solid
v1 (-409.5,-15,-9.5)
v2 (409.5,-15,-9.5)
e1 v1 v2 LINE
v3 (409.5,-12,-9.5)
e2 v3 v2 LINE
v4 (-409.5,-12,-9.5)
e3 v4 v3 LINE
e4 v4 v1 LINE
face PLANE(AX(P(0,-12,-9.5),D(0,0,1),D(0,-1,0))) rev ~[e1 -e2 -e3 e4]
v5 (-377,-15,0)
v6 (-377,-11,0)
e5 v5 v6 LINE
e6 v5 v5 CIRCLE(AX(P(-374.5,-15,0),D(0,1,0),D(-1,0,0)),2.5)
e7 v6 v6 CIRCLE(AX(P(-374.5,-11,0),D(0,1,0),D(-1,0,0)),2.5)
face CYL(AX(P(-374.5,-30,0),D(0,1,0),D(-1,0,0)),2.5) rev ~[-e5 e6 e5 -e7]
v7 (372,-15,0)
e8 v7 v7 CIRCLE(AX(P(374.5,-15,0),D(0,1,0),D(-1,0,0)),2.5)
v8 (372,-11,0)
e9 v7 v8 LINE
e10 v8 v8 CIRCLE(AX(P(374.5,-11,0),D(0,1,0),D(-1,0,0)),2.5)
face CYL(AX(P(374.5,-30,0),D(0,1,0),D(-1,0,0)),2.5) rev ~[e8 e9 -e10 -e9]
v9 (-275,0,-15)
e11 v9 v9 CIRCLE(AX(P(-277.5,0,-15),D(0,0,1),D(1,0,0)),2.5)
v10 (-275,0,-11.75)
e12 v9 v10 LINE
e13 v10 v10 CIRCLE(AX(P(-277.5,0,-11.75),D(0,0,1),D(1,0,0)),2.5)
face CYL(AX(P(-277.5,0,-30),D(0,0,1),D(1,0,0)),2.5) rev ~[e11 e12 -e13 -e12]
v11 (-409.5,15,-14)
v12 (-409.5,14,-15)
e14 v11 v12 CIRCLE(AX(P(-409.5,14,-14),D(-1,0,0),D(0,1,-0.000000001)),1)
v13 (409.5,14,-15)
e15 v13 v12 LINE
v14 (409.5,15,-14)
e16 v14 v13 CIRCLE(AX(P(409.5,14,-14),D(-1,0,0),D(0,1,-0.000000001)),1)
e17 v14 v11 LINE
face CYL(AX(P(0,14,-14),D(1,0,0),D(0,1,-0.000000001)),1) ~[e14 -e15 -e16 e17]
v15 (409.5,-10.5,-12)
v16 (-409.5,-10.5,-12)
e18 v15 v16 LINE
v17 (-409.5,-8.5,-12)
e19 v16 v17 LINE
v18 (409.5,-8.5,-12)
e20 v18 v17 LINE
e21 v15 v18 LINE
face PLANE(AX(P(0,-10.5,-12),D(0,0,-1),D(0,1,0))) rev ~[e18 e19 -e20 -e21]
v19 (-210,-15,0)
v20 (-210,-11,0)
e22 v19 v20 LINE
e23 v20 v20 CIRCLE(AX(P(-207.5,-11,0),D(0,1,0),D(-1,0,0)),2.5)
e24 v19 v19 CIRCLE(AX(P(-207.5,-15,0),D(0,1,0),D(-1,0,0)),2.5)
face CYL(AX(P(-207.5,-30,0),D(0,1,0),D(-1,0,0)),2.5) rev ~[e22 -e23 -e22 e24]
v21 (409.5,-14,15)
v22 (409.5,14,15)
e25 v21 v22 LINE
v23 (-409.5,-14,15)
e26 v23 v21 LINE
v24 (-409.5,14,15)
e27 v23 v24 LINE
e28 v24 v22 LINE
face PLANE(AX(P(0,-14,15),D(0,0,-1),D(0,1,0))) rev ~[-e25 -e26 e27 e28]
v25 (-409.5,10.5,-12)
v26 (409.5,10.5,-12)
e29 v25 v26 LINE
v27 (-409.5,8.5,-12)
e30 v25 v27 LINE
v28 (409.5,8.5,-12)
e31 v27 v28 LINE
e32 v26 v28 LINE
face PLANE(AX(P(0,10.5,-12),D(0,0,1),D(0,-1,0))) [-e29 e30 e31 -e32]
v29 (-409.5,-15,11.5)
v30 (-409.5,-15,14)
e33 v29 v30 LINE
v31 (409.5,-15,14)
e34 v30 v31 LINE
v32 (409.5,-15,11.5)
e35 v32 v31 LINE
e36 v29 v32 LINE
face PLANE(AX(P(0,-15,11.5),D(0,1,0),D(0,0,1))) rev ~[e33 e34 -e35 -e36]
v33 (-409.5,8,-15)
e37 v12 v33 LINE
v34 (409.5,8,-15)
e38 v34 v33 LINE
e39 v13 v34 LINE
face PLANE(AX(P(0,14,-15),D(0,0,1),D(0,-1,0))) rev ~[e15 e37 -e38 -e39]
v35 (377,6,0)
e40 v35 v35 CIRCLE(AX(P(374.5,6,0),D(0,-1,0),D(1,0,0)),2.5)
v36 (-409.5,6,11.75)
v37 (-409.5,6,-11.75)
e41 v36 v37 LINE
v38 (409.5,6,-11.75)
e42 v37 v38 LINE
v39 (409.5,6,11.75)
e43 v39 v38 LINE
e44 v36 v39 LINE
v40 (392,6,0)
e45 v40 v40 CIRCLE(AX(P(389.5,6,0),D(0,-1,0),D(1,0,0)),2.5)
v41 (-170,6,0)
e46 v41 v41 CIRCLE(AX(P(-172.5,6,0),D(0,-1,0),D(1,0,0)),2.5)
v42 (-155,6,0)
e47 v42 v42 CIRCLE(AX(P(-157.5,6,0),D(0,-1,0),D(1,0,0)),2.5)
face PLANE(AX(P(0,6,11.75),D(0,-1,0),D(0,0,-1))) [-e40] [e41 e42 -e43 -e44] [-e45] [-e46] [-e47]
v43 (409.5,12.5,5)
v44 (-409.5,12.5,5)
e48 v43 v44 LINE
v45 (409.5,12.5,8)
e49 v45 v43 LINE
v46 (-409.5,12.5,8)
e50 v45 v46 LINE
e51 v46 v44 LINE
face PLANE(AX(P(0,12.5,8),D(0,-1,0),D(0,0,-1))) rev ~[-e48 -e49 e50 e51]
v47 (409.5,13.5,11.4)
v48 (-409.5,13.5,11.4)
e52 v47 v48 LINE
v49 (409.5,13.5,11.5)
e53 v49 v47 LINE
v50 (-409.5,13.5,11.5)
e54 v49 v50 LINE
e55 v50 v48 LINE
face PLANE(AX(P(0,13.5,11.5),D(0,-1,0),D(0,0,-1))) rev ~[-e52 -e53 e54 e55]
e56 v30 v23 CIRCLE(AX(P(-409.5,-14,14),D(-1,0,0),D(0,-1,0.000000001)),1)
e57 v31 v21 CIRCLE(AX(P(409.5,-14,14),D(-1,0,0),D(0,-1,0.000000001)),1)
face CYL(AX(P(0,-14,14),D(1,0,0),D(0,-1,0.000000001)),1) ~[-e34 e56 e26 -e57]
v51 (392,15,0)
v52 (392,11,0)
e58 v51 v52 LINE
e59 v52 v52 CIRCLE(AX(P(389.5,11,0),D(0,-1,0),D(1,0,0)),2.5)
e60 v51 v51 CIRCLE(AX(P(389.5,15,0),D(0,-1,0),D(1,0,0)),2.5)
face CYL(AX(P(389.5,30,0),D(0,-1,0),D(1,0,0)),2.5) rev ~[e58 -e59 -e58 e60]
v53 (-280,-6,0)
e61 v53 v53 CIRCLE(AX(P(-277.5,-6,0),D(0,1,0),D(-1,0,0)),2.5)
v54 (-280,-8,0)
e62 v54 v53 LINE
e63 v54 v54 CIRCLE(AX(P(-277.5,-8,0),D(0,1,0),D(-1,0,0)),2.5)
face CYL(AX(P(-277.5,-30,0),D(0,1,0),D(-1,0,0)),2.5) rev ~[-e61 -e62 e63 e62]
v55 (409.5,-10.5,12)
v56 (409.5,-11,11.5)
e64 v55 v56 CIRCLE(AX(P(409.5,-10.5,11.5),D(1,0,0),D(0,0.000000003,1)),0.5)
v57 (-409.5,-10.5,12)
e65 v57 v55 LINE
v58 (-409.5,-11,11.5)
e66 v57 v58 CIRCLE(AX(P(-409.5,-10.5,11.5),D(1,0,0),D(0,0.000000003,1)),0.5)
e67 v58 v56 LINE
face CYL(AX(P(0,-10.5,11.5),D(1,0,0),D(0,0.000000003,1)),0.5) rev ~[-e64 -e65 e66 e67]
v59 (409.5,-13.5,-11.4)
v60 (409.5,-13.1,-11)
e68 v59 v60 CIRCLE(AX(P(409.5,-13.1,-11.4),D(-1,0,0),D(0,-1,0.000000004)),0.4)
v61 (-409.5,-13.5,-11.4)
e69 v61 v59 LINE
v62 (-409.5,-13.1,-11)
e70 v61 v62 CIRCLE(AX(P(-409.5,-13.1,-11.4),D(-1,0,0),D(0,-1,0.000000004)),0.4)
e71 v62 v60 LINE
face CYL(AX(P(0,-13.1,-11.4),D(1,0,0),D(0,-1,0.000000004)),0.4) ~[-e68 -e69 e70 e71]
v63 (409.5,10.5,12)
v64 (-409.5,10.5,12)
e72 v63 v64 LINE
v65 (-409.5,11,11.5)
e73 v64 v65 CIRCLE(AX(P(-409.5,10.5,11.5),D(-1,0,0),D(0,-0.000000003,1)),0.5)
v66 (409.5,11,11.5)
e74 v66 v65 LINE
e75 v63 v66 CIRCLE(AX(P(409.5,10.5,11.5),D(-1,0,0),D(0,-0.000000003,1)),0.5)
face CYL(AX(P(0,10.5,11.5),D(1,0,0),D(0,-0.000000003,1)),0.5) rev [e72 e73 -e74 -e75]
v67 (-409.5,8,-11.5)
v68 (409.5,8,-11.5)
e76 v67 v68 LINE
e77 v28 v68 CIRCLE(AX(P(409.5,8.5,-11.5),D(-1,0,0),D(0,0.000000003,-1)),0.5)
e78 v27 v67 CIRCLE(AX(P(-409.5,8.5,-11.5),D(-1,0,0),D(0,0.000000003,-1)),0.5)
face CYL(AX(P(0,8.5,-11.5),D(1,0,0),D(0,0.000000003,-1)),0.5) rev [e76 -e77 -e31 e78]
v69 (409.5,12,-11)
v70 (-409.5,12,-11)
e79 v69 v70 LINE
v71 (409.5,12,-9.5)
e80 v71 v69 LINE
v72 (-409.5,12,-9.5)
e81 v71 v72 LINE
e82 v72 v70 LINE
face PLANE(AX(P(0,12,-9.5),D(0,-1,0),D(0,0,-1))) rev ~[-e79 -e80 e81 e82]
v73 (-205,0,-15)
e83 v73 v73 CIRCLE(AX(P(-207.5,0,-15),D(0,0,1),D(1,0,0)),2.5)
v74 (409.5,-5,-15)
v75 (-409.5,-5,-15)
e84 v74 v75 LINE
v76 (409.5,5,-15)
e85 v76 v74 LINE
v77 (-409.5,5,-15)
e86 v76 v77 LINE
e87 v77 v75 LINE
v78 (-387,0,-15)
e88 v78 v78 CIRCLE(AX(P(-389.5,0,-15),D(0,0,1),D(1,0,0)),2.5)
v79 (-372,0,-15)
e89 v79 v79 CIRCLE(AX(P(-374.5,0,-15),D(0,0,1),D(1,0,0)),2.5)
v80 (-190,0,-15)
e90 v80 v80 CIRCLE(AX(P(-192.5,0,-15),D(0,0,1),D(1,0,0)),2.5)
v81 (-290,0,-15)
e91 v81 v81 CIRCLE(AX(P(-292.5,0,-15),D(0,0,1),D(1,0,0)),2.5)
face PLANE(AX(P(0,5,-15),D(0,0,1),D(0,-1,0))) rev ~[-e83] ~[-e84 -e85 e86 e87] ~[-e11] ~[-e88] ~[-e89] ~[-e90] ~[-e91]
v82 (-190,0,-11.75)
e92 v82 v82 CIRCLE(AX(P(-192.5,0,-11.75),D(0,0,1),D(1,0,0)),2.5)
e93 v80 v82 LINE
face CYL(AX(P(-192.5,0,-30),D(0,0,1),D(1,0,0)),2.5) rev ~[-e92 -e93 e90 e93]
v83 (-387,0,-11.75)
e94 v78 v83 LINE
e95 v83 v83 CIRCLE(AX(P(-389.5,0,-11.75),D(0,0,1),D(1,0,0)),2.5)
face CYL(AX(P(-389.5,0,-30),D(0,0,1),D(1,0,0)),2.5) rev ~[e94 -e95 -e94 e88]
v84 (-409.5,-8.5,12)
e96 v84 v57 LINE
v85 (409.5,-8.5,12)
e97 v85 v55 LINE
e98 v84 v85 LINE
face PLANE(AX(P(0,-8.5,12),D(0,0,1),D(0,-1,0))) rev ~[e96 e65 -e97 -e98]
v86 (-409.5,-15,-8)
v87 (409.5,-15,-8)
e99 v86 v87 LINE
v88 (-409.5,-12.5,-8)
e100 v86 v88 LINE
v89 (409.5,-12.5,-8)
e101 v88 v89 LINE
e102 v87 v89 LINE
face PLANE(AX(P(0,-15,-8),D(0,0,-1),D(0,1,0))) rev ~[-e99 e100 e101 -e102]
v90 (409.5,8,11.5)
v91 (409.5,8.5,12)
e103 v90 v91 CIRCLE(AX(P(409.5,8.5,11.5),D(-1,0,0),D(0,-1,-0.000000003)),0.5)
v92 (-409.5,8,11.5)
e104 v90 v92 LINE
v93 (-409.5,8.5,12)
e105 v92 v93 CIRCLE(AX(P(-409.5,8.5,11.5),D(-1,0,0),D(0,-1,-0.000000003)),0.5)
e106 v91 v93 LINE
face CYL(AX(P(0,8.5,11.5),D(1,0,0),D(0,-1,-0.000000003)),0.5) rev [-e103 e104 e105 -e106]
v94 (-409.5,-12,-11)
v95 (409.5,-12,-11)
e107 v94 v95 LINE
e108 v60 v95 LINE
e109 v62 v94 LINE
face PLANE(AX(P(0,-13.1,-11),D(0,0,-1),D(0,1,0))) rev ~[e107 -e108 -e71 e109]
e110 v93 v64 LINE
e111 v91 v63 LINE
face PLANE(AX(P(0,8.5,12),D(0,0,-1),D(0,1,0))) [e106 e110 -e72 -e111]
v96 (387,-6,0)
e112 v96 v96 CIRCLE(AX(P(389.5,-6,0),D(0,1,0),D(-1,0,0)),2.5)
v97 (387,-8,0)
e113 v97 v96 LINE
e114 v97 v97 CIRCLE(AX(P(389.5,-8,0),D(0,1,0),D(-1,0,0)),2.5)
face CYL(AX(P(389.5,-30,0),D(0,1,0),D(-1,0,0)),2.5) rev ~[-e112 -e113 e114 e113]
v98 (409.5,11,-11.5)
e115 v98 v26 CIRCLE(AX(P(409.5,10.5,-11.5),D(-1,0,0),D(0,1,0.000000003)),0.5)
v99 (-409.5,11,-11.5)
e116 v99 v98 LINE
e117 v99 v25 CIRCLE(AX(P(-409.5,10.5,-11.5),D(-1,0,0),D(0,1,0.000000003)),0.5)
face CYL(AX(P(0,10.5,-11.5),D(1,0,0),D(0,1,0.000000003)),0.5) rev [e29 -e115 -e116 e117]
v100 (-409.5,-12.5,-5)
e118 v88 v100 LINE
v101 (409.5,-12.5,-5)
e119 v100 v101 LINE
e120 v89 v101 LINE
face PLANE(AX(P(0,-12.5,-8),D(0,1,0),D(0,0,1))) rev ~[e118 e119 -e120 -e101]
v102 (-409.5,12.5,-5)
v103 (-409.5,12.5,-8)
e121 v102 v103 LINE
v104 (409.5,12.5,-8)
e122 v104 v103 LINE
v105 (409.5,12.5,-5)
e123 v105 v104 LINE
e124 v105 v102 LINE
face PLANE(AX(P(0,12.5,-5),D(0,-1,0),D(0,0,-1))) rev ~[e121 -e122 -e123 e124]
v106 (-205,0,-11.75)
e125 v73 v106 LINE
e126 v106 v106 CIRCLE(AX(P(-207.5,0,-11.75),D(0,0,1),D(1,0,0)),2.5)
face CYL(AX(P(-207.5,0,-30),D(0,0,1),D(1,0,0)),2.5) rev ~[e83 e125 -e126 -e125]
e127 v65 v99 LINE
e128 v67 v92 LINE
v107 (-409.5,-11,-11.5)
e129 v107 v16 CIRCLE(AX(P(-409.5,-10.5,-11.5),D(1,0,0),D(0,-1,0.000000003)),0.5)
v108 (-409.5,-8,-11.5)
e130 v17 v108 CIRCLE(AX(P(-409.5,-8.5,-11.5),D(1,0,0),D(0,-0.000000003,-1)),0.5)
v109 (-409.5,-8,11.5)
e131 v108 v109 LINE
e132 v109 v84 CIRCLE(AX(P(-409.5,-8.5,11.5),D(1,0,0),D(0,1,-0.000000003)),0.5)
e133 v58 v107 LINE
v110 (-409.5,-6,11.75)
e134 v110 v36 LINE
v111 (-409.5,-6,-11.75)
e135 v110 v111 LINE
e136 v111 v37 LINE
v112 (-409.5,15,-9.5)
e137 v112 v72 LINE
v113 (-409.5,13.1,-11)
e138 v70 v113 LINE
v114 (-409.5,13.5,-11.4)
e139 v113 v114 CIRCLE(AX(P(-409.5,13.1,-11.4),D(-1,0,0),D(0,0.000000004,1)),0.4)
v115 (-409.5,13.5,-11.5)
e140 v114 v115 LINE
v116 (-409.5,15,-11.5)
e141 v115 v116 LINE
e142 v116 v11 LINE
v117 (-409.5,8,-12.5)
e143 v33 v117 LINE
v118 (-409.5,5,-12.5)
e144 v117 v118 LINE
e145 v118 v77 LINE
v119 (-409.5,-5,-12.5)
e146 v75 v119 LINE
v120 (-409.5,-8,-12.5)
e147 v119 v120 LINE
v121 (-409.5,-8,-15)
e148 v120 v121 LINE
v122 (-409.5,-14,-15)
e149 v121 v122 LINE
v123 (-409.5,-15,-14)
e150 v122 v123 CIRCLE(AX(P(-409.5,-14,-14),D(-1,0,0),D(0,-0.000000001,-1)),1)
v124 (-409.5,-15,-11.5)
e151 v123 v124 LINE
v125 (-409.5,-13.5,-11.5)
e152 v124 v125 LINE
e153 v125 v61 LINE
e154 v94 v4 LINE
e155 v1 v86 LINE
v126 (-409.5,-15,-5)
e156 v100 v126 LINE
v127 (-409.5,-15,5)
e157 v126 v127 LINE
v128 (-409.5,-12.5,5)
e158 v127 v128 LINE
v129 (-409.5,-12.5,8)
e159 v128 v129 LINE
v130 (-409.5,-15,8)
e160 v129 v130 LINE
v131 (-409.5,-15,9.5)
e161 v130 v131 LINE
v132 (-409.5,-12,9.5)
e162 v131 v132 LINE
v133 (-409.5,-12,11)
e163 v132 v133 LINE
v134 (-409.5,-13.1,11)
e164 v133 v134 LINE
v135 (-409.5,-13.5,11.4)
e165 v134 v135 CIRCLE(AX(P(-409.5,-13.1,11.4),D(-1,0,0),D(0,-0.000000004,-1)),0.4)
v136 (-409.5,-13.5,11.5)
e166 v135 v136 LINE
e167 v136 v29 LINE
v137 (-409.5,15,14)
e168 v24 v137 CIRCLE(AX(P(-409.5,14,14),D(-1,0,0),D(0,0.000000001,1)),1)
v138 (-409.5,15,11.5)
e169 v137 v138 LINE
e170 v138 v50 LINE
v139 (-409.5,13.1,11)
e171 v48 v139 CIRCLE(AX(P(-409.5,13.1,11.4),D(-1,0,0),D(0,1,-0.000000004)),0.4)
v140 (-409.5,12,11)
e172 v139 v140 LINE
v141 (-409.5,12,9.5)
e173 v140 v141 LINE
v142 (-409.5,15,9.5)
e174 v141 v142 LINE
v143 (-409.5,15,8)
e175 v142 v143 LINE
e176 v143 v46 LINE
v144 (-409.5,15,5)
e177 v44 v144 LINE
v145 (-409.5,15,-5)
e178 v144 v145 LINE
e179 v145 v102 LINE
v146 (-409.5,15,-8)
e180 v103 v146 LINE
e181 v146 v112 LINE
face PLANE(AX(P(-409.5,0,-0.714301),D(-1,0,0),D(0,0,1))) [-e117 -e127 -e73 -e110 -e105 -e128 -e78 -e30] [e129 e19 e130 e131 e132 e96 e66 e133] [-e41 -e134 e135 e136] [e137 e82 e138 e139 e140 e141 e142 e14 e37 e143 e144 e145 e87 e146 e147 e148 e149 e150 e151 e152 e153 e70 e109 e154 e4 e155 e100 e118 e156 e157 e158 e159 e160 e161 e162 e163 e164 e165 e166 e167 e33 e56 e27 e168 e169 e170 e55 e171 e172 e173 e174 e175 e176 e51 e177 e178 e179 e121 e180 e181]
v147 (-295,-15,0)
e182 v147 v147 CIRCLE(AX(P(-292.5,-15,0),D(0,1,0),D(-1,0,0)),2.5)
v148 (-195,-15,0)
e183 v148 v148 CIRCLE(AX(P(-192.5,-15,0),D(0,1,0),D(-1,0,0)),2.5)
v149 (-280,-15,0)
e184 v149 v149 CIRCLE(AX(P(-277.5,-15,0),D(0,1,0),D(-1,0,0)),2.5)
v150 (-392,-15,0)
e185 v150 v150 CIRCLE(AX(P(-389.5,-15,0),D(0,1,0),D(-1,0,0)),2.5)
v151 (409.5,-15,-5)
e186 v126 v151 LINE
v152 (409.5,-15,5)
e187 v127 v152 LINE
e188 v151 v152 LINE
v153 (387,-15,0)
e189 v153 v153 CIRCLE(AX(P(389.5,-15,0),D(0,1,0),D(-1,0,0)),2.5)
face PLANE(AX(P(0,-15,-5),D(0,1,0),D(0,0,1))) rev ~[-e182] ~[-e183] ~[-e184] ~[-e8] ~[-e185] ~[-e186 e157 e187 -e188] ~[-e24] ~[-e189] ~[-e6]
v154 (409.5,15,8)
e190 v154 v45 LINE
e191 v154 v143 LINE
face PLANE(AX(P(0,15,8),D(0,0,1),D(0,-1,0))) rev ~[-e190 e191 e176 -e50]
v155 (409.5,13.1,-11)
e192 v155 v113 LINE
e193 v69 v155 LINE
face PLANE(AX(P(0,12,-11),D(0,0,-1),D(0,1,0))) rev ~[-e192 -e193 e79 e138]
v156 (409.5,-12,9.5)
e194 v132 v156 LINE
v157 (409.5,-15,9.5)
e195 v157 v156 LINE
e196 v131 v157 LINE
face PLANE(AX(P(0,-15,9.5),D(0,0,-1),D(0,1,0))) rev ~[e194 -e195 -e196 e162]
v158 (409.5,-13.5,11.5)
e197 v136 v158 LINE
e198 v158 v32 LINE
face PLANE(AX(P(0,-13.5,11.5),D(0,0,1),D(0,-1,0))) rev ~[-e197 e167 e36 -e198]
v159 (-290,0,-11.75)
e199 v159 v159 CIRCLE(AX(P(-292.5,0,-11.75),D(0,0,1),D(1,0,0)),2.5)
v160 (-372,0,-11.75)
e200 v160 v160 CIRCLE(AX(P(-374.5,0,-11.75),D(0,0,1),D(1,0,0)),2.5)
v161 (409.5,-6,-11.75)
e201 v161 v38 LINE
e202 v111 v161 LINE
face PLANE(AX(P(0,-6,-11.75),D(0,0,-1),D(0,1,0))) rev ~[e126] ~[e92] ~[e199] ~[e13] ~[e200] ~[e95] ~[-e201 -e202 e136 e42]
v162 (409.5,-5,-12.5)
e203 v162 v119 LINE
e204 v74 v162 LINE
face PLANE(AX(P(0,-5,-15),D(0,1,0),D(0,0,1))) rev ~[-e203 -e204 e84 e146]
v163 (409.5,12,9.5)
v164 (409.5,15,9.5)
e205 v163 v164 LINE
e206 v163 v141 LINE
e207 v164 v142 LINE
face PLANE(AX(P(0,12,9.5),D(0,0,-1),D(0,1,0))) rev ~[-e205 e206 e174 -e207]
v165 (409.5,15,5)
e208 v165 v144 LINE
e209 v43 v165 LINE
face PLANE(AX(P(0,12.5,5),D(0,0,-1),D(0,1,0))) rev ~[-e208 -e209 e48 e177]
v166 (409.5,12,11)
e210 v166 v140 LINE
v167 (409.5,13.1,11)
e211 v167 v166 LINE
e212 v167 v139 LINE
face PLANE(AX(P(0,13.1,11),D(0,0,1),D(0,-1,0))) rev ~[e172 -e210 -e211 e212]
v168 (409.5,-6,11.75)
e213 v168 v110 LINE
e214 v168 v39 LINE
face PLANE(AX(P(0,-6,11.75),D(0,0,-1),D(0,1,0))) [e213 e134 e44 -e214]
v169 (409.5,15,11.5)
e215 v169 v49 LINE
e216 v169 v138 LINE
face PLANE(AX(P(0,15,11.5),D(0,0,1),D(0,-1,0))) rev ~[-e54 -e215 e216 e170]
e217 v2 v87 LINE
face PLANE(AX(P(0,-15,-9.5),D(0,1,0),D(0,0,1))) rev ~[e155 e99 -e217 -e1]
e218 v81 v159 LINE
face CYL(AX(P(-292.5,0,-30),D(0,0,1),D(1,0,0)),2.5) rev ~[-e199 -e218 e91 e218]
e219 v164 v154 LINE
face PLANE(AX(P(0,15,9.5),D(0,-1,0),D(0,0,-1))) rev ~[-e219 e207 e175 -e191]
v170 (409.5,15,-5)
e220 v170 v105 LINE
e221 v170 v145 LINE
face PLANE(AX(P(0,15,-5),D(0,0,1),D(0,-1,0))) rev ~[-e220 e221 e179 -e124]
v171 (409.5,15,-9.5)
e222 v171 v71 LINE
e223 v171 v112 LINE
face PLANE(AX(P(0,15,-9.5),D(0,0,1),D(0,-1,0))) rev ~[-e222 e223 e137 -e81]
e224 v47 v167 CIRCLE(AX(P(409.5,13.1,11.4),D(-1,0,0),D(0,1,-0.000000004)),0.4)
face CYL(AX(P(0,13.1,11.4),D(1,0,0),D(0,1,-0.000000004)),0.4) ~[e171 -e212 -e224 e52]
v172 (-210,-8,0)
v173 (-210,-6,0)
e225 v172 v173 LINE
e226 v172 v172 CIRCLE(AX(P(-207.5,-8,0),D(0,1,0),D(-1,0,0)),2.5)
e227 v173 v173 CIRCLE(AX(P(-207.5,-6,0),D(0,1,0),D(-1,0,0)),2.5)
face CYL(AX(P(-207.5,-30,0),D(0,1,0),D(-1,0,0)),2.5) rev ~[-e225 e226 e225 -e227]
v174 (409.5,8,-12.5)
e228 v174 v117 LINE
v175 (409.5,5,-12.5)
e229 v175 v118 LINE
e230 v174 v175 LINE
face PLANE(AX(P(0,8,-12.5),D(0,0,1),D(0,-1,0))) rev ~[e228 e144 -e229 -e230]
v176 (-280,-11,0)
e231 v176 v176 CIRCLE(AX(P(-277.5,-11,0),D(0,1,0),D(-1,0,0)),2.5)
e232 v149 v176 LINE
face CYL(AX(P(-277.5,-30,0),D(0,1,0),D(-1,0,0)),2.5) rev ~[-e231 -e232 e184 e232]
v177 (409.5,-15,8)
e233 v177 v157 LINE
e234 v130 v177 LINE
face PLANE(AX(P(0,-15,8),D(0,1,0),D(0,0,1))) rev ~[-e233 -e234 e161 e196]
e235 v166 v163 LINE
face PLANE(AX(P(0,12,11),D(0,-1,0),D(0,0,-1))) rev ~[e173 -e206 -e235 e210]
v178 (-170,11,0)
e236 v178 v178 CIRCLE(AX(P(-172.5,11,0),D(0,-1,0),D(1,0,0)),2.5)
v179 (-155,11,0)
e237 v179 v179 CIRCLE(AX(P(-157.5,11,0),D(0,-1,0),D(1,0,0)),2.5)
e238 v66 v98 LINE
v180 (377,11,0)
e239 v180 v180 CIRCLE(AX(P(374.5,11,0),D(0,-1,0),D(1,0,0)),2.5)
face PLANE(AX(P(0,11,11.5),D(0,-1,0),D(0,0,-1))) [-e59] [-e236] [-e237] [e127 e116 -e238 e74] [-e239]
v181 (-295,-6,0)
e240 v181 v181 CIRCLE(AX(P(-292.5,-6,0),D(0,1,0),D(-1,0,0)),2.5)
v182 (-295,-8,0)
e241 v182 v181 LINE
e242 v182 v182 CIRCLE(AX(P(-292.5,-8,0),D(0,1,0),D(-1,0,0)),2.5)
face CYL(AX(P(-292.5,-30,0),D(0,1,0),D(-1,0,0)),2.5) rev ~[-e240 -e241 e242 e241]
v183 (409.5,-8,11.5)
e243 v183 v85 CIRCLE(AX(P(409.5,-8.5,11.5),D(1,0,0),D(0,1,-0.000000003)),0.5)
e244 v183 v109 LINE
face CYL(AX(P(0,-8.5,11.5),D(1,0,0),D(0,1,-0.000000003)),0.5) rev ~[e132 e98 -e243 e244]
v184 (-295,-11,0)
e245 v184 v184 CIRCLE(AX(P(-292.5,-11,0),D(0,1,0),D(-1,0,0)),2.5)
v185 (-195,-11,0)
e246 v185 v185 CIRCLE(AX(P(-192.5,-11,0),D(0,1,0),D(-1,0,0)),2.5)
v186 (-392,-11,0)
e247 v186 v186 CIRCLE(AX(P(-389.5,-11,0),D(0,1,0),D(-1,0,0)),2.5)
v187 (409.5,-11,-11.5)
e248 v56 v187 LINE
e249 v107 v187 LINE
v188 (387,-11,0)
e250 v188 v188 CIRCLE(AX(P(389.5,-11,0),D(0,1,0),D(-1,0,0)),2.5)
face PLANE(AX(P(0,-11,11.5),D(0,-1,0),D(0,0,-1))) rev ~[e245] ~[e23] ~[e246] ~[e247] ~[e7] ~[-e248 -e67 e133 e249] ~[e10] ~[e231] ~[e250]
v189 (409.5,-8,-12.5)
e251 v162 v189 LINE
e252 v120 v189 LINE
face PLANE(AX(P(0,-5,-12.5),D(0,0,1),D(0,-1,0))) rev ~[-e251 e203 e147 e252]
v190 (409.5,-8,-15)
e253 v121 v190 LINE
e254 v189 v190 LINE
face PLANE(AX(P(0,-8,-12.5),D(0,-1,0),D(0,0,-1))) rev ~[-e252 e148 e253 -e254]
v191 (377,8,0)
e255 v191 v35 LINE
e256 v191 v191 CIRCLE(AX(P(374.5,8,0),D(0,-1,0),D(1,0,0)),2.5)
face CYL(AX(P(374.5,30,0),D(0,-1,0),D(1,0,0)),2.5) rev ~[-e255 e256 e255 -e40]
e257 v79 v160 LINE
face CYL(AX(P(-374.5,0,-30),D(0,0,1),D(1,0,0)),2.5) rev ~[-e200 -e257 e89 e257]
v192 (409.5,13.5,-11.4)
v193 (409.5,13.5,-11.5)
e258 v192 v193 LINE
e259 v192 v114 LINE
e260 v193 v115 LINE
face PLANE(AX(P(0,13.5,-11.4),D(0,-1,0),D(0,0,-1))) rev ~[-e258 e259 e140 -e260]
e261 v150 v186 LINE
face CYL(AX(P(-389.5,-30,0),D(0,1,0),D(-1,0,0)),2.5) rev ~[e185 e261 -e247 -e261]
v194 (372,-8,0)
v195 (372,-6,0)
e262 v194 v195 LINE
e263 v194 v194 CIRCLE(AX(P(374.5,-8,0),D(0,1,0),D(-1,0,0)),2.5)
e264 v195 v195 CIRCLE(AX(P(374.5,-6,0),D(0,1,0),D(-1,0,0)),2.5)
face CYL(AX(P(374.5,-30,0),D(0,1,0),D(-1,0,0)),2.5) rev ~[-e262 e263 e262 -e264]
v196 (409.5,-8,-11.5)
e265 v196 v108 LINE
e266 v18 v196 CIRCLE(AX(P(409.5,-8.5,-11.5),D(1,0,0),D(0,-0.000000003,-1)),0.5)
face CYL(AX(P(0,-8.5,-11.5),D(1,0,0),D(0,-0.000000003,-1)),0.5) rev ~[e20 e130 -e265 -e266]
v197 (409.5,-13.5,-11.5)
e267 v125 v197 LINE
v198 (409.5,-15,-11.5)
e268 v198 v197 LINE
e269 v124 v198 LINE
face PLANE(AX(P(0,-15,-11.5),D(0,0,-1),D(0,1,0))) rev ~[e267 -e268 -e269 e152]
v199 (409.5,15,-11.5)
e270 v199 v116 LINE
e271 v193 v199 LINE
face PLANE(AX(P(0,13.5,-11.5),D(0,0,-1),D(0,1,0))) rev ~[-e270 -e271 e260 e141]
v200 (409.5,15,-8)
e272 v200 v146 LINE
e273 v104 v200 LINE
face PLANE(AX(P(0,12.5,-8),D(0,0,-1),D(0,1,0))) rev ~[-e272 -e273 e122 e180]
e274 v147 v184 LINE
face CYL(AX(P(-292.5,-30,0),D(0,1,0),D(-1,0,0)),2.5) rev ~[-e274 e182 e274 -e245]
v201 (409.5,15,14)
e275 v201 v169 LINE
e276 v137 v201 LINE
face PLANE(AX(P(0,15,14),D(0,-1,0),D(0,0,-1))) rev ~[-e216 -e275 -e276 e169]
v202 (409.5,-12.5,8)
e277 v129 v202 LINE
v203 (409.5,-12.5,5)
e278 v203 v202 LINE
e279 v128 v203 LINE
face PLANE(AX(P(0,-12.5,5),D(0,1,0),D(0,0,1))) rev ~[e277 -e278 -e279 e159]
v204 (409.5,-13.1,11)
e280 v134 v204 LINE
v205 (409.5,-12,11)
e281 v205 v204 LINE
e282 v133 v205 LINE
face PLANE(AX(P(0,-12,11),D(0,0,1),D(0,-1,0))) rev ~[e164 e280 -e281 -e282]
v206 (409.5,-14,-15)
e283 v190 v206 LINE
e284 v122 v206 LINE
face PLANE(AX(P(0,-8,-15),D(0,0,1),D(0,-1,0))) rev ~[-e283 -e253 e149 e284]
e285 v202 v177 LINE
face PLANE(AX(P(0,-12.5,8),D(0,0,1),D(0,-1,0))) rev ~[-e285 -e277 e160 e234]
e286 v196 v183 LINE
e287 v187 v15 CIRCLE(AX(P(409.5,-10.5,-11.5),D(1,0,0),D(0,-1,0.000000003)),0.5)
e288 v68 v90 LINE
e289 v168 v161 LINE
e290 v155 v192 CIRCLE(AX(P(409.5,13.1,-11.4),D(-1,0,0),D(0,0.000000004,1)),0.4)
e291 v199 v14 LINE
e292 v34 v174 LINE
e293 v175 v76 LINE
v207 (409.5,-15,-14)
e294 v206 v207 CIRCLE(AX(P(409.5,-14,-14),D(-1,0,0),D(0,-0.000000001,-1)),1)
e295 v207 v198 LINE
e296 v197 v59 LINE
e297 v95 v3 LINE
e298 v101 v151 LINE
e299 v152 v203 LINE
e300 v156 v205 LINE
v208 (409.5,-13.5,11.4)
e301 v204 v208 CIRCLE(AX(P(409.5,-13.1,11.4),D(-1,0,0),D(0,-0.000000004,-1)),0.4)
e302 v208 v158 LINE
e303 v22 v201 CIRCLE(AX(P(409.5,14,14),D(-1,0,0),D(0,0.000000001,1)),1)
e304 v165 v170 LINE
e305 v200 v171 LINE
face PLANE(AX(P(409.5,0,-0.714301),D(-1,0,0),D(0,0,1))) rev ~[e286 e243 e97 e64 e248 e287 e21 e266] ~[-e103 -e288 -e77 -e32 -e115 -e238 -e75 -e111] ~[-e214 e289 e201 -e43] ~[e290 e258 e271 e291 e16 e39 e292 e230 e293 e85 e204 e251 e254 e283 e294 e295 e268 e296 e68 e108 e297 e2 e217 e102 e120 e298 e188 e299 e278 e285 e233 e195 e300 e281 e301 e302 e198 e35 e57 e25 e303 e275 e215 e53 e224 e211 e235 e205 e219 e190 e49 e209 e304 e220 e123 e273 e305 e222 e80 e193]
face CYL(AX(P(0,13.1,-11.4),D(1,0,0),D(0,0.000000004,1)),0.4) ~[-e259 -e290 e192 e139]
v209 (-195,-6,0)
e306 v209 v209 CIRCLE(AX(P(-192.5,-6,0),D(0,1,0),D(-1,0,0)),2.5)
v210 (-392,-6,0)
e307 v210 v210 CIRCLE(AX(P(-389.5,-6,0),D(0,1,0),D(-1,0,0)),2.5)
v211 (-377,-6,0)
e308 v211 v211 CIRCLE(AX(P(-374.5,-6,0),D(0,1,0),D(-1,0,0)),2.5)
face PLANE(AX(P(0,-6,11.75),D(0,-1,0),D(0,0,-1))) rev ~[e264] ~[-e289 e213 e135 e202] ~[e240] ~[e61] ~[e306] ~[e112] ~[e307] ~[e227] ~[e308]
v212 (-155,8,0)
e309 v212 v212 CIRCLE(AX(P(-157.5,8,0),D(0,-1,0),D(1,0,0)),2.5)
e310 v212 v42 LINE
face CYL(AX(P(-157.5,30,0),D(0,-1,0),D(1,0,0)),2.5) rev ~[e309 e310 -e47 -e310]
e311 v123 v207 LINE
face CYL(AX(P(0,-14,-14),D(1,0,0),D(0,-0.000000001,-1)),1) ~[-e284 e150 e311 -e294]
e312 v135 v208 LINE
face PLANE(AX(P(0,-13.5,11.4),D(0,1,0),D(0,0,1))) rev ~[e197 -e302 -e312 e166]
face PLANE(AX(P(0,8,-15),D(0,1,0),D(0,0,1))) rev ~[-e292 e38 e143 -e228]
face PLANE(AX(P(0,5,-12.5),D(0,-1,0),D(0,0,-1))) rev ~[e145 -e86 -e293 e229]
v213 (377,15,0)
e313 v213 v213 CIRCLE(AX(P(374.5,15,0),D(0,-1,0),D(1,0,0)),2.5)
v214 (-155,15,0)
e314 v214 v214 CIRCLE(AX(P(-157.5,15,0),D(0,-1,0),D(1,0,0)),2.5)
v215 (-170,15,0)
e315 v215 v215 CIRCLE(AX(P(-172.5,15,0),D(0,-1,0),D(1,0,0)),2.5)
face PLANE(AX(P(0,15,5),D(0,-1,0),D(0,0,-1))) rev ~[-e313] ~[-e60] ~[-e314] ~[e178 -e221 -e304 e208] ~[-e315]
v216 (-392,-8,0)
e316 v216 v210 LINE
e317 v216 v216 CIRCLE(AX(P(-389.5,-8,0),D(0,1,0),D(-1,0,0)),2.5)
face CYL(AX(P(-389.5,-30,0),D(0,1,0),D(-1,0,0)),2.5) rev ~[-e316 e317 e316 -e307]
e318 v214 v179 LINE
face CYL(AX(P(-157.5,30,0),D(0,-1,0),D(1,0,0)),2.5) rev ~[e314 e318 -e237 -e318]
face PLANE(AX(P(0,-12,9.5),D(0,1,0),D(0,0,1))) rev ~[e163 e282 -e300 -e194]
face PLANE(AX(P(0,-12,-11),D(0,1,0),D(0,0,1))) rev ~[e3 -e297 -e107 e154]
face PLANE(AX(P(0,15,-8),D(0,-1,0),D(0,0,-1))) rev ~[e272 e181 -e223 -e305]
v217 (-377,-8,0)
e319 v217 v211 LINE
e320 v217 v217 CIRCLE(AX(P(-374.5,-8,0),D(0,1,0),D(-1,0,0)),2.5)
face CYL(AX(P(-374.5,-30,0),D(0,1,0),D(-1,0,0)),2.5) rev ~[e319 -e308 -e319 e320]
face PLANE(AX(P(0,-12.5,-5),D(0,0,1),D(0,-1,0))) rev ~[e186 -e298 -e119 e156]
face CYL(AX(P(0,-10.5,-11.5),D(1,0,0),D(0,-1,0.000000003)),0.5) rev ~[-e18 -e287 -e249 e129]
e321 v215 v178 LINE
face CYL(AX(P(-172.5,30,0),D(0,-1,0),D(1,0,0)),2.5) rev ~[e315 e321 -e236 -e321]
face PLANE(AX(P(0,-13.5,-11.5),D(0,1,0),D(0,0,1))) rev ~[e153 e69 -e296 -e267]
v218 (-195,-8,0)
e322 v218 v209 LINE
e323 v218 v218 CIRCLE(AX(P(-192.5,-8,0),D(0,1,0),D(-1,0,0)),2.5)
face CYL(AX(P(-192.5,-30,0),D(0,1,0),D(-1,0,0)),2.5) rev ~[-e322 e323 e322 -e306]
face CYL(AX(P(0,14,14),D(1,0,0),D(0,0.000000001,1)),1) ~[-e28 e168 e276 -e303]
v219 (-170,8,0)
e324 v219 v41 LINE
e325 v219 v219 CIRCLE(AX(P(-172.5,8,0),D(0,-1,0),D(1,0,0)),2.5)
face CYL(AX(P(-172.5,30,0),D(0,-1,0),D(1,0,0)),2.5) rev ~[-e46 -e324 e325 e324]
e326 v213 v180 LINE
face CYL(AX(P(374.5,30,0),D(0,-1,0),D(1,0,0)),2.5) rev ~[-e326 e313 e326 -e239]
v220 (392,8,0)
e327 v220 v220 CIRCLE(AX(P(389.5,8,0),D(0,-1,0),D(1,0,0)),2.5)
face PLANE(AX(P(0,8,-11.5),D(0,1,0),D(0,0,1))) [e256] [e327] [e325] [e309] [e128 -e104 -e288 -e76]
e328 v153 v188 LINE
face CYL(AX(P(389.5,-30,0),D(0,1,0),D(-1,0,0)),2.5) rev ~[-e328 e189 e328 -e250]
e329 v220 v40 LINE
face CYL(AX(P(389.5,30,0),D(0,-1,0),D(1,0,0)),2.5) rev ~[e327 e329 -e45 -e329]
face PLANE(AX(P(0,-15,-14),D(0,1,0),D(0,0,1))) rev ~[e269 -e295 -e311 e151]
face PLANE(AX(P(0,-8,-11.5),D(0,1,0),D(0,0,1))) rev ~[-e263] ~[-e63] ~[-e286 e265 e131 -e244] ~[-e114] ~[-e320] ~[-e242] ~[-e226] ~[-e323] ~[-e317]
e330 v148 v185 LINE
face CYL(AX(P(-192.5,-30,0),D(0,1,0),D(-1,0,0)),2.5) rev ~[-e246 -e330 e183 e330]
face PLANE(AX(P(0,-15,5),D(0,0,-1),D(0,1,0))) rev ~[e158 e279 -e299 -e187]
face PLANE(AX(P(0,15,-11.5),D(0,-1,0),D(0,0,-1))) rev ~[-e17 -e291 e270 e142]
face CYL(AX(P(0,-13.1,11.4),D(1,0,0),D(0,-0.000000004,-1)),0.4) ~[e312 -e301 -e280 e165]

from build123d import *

# Parameters (mm, degrees)
SKETCH_1_W             = 23.5
SKETCH_1_H             = 12
EXTRUDE_1_DEPTH        = 409.5
HOLE_WIZARD_M6_1_D     = 5
HOLE_WIZARD_M6_1_DEPTH = 15
HOLE_WIZARD_M6_1_TIP   = 1.502151548
HOLE_WIZARD_M6_2_D     = 5
HOLE_WIZARD_M6_2_DEPTH = 15
HOLE_WIZARD_M6_2_TIP   = 1.502151548
HOLE_WIZARD_M6_3_D     = 5
HOLE_WIZARD_M6_3_DEPTH = 15
HOLE_WIZARD_M6_3_TIP   = 1.502151548


with BuildPart() as part:
    # 草图1 → 凸台-拉伸1 (new, symmetric)
    with BuildSketch(Plane(origin=(0, 0, 0), x_dir=(0, 0, -1), z_dir=(1, 0, 0))):
        with BuildLine():
            Line((-14, 15), (-11.5, 15))
            Line((-11.5, 15), (-11.5, 13.5))
            Line((-11.5, 13.5), (-11.4, 13.5))
            ThreePointArc((-11.4, 13.5), (-11.117157288, 13.382842712), (-11, 13.1))
            Line((-11, 13.1), (-11, 12))
            Line((-11, 12), (-9.5, 12))
            Line((-9.5, 12), (-9.5, 15))
            Line((-9.5, 15), (-8, 15))
            Line((-8, 15), (-8, 12.5))
            Line((-8, 12.5), (-5, 12.5))
            Line((-5, 12.5), (-5, 15))
            Line((-5, 15), (5, 15))
            Line((5, 15), (5, 12.5))
            Line((5, 12.5), (8, 12.5))
            Line((8, 12.5), (8, 15))
            Line((8, 15), (9.5, 15))
            Line((9.5, 15), (9.5, 12))
            Line((9.5, 12), (11, 12))
            Line((11, 12), (11, 13.1))
            ThreePointArc((11, 13.1), (11.117157288, 13.382842712), (11.4, 13.5))
            Line((11.4, 13.5), (11.5, 13.5))
            Line((11.5, 13.5), (11.5, 15))
            Line((11.5, 15), (14, 15))
            ThreePointArc((14, 15), (14.707106781, 14.707106781), (15, 14))
            Line((15, 14), (15, 8))
            Line((15, 8), (12.5, 8))
            Line((12.5, 8), (12.5, 5))
            Line((12.5, 5), (15, 5))
            Line((15, 5), (15, -5))
            Line((15, -5), (12.5, -5))
            Line((12.5, -5), (12.5, -8))
            Line((12.5, -8), (15, -8))
            Line((15, -8), (15, -14))
            ThreePointArc((15, -14), (14.707106781, -14.707106781), (14, -15))
            Line((14, -15), (11.5, -15))
            Line((11.5, -15), (11.5, -13.5))
            Line((11.5, -13.5), (11.4, -13.5))
            ThreePointArc((11.4, -13.5), (11.117157288, -13.382842712), (11, -13.1))
            Line((11, -13.1), (11, -12))
            Line((11, -12), (9.5, -12))
            Line((9.5, -12), (9.5, -15))
            Line((9.5, -15), (8, -15))
            Line((8, -15), (8, -12.5))
            Line((8, -12.5), (5, -12.5))
            Line((5, -12.5), (5, -15))
            Line((5, -15), (-5, -15))
            Line((-5, -15), (-5, -12.5))
            Line((-5, -12.5), (-8, -12.5))
            Line((-8, -12.5), (-8, -15))
            Line((-8, -15), (-9.5, -15))
            Line((-9.5, -15), (-9.5, -12))
            Line((-9.5, -12), (-11, -12))
            Line((-11, -12), (-11, -13.1))
            ThreePointArc((-11, -13.1), (-11.117157288, -13.382842712), (-11.4, -13.5))
            Line((-11.4, -13.5), (-11.5, -13.5))
            Line((-11.5, -13.5), (-11.5, -15))
            Line((-11.5, -15), (-14, -15))
            ThreePointArc((-14, -15), (-14.707106781, -14.707106781), (-15, -14))
            Line((-15, -14), (-15, 14))
            ThreePointArc((-15, 14), (-14.707106781, 14.707106781), (-14, 15))
        make_face()
        with BuildLine():
            Line((12, -10.5), (12, -8.5))
            ThreePointArc((12, -8.5), (11.853553391, -8.146446609), (11.5, -8))
            Line((11.5, -8), (-11.5, -8))
            ThreePointArc((-11.5, -8), (-11.853553391, -8.146446609), (-12, -8.5))
            Line((-12, -8.5), (-12, -10.5))
            ThreePointArc((-12, -10.5), (-11.853553391, -10.853553391), (-11.5, -11))
            Line((-11.5, -11), (11.5, -11))
            ThreePointArc((11.5, -11), (11.853553391, -10.853553391), (12, -10.5))
        make_face(mode=Mode.SUBTRACT)
        with BuildLine():
            Line((-11.5, 11), (11.5, 11))
            ThreePointArc((11.5, 11), (11.853553391, 10.853553391), (12, 10.5))
            Line((12, 10.5), (12, 8.5))
            ThreePointArc((12, 8.5), (11.853553391, 8.146446609), (11.5, 8))
            Line((11.5, 8), (-11.5, 8))
            ThreePointArc((-11.5, 8), (-11.853553391, 8.146446609), (-12, 8.5))
            Line((-12, 8.5), (-12, 10.5))
            ThreePointArc((-12, 10.5), (-11.853553391, 10.853553391), (-11.5, 11))
        make_face(mode=Mode.SUBTRACT)
        Rectangle(SKETCH_1_W, SKETCH_1_H, mode=Mode.SUBTRACT)
    extrude(amount=EXTRUDE_1_DEPTH, both=True)

    # M6 螺纹孔1
    with Locations(Plane.XZ.offset(15)):
        with Locations((389.5, 0), (374.5, 0), (-192.5, 0), (-207.5, 0), (-277.5, 0), (-292.5, 0), (-374.5, 0), (-389.5, 0)):
            Hole(HOLE_WIZARD_M6_1_D / 2, depth=HOLE_WIZARD_M6_1_DEPTH)
            with Locations((0, 0, -(HOLE_WIZARD_M6_1_DEPTH + HOLE_WIZARD_M6_1_TIP / 2))):  # 118° drill point
                Cone(0, HOLE_WIZARD_M6_1_D / 2, HOLE_WIZARD_M6_1_TIP, mode=Mode.SUBTRACT)

    # M6 螺纹孔2
    with Locations(Plane(origin=(0, 0, -15), x_dir=(-1, 0, 0), z_dir=(0, 0, -1))):
        with Locations((389.5, 0), (374.5, 0), (292.5, 0), (277.5, 0), (207.5, 0), (192.5, 0)):
            Hole(HOLE_WIZARD_M6_2_D / 2, depth=HOLE_WIZARD_M6_2_DEPTH)
            with Locations((0, 0, -(HOLE_WIZARD_M6_2_DEPTH + HOLE_WIZARD_M6_2_TIP / 2))):  # 118° drill point
                Cone(0, HOLE_WIZARD_M6_2_D / 2, HOLE_WIZARD_M6_2_TIP, mode=Mode.SUBTRACT)

    # M6 螺纹孔3
    with Locations(Plane(origin=(0, 15, 0), x_dir=(-1, 0, 0), z_dir=(0, 1, 0))):
        with Locations((172.5, 0), (157.5, 0), (-374.5, 0), (-389.5, 0)):
            Hole(HOLE_WIZARD_M6_3_D / 2, depth=HOLE_WIZARD_M6_3_DEPTH)
            with Locations((0, 0, -(HOLE_WIZARD_M6_3_DEPTH + HOLE_WIZARD_M6_3_TIP / 2))):  # 118° drill point
                Cone(0, HOLE_WIZARD_M6_3_D / 2, HOLE_WIZARD_M6_3_TIP, mode=Mode.SUBTRACT)


solid = part.part
